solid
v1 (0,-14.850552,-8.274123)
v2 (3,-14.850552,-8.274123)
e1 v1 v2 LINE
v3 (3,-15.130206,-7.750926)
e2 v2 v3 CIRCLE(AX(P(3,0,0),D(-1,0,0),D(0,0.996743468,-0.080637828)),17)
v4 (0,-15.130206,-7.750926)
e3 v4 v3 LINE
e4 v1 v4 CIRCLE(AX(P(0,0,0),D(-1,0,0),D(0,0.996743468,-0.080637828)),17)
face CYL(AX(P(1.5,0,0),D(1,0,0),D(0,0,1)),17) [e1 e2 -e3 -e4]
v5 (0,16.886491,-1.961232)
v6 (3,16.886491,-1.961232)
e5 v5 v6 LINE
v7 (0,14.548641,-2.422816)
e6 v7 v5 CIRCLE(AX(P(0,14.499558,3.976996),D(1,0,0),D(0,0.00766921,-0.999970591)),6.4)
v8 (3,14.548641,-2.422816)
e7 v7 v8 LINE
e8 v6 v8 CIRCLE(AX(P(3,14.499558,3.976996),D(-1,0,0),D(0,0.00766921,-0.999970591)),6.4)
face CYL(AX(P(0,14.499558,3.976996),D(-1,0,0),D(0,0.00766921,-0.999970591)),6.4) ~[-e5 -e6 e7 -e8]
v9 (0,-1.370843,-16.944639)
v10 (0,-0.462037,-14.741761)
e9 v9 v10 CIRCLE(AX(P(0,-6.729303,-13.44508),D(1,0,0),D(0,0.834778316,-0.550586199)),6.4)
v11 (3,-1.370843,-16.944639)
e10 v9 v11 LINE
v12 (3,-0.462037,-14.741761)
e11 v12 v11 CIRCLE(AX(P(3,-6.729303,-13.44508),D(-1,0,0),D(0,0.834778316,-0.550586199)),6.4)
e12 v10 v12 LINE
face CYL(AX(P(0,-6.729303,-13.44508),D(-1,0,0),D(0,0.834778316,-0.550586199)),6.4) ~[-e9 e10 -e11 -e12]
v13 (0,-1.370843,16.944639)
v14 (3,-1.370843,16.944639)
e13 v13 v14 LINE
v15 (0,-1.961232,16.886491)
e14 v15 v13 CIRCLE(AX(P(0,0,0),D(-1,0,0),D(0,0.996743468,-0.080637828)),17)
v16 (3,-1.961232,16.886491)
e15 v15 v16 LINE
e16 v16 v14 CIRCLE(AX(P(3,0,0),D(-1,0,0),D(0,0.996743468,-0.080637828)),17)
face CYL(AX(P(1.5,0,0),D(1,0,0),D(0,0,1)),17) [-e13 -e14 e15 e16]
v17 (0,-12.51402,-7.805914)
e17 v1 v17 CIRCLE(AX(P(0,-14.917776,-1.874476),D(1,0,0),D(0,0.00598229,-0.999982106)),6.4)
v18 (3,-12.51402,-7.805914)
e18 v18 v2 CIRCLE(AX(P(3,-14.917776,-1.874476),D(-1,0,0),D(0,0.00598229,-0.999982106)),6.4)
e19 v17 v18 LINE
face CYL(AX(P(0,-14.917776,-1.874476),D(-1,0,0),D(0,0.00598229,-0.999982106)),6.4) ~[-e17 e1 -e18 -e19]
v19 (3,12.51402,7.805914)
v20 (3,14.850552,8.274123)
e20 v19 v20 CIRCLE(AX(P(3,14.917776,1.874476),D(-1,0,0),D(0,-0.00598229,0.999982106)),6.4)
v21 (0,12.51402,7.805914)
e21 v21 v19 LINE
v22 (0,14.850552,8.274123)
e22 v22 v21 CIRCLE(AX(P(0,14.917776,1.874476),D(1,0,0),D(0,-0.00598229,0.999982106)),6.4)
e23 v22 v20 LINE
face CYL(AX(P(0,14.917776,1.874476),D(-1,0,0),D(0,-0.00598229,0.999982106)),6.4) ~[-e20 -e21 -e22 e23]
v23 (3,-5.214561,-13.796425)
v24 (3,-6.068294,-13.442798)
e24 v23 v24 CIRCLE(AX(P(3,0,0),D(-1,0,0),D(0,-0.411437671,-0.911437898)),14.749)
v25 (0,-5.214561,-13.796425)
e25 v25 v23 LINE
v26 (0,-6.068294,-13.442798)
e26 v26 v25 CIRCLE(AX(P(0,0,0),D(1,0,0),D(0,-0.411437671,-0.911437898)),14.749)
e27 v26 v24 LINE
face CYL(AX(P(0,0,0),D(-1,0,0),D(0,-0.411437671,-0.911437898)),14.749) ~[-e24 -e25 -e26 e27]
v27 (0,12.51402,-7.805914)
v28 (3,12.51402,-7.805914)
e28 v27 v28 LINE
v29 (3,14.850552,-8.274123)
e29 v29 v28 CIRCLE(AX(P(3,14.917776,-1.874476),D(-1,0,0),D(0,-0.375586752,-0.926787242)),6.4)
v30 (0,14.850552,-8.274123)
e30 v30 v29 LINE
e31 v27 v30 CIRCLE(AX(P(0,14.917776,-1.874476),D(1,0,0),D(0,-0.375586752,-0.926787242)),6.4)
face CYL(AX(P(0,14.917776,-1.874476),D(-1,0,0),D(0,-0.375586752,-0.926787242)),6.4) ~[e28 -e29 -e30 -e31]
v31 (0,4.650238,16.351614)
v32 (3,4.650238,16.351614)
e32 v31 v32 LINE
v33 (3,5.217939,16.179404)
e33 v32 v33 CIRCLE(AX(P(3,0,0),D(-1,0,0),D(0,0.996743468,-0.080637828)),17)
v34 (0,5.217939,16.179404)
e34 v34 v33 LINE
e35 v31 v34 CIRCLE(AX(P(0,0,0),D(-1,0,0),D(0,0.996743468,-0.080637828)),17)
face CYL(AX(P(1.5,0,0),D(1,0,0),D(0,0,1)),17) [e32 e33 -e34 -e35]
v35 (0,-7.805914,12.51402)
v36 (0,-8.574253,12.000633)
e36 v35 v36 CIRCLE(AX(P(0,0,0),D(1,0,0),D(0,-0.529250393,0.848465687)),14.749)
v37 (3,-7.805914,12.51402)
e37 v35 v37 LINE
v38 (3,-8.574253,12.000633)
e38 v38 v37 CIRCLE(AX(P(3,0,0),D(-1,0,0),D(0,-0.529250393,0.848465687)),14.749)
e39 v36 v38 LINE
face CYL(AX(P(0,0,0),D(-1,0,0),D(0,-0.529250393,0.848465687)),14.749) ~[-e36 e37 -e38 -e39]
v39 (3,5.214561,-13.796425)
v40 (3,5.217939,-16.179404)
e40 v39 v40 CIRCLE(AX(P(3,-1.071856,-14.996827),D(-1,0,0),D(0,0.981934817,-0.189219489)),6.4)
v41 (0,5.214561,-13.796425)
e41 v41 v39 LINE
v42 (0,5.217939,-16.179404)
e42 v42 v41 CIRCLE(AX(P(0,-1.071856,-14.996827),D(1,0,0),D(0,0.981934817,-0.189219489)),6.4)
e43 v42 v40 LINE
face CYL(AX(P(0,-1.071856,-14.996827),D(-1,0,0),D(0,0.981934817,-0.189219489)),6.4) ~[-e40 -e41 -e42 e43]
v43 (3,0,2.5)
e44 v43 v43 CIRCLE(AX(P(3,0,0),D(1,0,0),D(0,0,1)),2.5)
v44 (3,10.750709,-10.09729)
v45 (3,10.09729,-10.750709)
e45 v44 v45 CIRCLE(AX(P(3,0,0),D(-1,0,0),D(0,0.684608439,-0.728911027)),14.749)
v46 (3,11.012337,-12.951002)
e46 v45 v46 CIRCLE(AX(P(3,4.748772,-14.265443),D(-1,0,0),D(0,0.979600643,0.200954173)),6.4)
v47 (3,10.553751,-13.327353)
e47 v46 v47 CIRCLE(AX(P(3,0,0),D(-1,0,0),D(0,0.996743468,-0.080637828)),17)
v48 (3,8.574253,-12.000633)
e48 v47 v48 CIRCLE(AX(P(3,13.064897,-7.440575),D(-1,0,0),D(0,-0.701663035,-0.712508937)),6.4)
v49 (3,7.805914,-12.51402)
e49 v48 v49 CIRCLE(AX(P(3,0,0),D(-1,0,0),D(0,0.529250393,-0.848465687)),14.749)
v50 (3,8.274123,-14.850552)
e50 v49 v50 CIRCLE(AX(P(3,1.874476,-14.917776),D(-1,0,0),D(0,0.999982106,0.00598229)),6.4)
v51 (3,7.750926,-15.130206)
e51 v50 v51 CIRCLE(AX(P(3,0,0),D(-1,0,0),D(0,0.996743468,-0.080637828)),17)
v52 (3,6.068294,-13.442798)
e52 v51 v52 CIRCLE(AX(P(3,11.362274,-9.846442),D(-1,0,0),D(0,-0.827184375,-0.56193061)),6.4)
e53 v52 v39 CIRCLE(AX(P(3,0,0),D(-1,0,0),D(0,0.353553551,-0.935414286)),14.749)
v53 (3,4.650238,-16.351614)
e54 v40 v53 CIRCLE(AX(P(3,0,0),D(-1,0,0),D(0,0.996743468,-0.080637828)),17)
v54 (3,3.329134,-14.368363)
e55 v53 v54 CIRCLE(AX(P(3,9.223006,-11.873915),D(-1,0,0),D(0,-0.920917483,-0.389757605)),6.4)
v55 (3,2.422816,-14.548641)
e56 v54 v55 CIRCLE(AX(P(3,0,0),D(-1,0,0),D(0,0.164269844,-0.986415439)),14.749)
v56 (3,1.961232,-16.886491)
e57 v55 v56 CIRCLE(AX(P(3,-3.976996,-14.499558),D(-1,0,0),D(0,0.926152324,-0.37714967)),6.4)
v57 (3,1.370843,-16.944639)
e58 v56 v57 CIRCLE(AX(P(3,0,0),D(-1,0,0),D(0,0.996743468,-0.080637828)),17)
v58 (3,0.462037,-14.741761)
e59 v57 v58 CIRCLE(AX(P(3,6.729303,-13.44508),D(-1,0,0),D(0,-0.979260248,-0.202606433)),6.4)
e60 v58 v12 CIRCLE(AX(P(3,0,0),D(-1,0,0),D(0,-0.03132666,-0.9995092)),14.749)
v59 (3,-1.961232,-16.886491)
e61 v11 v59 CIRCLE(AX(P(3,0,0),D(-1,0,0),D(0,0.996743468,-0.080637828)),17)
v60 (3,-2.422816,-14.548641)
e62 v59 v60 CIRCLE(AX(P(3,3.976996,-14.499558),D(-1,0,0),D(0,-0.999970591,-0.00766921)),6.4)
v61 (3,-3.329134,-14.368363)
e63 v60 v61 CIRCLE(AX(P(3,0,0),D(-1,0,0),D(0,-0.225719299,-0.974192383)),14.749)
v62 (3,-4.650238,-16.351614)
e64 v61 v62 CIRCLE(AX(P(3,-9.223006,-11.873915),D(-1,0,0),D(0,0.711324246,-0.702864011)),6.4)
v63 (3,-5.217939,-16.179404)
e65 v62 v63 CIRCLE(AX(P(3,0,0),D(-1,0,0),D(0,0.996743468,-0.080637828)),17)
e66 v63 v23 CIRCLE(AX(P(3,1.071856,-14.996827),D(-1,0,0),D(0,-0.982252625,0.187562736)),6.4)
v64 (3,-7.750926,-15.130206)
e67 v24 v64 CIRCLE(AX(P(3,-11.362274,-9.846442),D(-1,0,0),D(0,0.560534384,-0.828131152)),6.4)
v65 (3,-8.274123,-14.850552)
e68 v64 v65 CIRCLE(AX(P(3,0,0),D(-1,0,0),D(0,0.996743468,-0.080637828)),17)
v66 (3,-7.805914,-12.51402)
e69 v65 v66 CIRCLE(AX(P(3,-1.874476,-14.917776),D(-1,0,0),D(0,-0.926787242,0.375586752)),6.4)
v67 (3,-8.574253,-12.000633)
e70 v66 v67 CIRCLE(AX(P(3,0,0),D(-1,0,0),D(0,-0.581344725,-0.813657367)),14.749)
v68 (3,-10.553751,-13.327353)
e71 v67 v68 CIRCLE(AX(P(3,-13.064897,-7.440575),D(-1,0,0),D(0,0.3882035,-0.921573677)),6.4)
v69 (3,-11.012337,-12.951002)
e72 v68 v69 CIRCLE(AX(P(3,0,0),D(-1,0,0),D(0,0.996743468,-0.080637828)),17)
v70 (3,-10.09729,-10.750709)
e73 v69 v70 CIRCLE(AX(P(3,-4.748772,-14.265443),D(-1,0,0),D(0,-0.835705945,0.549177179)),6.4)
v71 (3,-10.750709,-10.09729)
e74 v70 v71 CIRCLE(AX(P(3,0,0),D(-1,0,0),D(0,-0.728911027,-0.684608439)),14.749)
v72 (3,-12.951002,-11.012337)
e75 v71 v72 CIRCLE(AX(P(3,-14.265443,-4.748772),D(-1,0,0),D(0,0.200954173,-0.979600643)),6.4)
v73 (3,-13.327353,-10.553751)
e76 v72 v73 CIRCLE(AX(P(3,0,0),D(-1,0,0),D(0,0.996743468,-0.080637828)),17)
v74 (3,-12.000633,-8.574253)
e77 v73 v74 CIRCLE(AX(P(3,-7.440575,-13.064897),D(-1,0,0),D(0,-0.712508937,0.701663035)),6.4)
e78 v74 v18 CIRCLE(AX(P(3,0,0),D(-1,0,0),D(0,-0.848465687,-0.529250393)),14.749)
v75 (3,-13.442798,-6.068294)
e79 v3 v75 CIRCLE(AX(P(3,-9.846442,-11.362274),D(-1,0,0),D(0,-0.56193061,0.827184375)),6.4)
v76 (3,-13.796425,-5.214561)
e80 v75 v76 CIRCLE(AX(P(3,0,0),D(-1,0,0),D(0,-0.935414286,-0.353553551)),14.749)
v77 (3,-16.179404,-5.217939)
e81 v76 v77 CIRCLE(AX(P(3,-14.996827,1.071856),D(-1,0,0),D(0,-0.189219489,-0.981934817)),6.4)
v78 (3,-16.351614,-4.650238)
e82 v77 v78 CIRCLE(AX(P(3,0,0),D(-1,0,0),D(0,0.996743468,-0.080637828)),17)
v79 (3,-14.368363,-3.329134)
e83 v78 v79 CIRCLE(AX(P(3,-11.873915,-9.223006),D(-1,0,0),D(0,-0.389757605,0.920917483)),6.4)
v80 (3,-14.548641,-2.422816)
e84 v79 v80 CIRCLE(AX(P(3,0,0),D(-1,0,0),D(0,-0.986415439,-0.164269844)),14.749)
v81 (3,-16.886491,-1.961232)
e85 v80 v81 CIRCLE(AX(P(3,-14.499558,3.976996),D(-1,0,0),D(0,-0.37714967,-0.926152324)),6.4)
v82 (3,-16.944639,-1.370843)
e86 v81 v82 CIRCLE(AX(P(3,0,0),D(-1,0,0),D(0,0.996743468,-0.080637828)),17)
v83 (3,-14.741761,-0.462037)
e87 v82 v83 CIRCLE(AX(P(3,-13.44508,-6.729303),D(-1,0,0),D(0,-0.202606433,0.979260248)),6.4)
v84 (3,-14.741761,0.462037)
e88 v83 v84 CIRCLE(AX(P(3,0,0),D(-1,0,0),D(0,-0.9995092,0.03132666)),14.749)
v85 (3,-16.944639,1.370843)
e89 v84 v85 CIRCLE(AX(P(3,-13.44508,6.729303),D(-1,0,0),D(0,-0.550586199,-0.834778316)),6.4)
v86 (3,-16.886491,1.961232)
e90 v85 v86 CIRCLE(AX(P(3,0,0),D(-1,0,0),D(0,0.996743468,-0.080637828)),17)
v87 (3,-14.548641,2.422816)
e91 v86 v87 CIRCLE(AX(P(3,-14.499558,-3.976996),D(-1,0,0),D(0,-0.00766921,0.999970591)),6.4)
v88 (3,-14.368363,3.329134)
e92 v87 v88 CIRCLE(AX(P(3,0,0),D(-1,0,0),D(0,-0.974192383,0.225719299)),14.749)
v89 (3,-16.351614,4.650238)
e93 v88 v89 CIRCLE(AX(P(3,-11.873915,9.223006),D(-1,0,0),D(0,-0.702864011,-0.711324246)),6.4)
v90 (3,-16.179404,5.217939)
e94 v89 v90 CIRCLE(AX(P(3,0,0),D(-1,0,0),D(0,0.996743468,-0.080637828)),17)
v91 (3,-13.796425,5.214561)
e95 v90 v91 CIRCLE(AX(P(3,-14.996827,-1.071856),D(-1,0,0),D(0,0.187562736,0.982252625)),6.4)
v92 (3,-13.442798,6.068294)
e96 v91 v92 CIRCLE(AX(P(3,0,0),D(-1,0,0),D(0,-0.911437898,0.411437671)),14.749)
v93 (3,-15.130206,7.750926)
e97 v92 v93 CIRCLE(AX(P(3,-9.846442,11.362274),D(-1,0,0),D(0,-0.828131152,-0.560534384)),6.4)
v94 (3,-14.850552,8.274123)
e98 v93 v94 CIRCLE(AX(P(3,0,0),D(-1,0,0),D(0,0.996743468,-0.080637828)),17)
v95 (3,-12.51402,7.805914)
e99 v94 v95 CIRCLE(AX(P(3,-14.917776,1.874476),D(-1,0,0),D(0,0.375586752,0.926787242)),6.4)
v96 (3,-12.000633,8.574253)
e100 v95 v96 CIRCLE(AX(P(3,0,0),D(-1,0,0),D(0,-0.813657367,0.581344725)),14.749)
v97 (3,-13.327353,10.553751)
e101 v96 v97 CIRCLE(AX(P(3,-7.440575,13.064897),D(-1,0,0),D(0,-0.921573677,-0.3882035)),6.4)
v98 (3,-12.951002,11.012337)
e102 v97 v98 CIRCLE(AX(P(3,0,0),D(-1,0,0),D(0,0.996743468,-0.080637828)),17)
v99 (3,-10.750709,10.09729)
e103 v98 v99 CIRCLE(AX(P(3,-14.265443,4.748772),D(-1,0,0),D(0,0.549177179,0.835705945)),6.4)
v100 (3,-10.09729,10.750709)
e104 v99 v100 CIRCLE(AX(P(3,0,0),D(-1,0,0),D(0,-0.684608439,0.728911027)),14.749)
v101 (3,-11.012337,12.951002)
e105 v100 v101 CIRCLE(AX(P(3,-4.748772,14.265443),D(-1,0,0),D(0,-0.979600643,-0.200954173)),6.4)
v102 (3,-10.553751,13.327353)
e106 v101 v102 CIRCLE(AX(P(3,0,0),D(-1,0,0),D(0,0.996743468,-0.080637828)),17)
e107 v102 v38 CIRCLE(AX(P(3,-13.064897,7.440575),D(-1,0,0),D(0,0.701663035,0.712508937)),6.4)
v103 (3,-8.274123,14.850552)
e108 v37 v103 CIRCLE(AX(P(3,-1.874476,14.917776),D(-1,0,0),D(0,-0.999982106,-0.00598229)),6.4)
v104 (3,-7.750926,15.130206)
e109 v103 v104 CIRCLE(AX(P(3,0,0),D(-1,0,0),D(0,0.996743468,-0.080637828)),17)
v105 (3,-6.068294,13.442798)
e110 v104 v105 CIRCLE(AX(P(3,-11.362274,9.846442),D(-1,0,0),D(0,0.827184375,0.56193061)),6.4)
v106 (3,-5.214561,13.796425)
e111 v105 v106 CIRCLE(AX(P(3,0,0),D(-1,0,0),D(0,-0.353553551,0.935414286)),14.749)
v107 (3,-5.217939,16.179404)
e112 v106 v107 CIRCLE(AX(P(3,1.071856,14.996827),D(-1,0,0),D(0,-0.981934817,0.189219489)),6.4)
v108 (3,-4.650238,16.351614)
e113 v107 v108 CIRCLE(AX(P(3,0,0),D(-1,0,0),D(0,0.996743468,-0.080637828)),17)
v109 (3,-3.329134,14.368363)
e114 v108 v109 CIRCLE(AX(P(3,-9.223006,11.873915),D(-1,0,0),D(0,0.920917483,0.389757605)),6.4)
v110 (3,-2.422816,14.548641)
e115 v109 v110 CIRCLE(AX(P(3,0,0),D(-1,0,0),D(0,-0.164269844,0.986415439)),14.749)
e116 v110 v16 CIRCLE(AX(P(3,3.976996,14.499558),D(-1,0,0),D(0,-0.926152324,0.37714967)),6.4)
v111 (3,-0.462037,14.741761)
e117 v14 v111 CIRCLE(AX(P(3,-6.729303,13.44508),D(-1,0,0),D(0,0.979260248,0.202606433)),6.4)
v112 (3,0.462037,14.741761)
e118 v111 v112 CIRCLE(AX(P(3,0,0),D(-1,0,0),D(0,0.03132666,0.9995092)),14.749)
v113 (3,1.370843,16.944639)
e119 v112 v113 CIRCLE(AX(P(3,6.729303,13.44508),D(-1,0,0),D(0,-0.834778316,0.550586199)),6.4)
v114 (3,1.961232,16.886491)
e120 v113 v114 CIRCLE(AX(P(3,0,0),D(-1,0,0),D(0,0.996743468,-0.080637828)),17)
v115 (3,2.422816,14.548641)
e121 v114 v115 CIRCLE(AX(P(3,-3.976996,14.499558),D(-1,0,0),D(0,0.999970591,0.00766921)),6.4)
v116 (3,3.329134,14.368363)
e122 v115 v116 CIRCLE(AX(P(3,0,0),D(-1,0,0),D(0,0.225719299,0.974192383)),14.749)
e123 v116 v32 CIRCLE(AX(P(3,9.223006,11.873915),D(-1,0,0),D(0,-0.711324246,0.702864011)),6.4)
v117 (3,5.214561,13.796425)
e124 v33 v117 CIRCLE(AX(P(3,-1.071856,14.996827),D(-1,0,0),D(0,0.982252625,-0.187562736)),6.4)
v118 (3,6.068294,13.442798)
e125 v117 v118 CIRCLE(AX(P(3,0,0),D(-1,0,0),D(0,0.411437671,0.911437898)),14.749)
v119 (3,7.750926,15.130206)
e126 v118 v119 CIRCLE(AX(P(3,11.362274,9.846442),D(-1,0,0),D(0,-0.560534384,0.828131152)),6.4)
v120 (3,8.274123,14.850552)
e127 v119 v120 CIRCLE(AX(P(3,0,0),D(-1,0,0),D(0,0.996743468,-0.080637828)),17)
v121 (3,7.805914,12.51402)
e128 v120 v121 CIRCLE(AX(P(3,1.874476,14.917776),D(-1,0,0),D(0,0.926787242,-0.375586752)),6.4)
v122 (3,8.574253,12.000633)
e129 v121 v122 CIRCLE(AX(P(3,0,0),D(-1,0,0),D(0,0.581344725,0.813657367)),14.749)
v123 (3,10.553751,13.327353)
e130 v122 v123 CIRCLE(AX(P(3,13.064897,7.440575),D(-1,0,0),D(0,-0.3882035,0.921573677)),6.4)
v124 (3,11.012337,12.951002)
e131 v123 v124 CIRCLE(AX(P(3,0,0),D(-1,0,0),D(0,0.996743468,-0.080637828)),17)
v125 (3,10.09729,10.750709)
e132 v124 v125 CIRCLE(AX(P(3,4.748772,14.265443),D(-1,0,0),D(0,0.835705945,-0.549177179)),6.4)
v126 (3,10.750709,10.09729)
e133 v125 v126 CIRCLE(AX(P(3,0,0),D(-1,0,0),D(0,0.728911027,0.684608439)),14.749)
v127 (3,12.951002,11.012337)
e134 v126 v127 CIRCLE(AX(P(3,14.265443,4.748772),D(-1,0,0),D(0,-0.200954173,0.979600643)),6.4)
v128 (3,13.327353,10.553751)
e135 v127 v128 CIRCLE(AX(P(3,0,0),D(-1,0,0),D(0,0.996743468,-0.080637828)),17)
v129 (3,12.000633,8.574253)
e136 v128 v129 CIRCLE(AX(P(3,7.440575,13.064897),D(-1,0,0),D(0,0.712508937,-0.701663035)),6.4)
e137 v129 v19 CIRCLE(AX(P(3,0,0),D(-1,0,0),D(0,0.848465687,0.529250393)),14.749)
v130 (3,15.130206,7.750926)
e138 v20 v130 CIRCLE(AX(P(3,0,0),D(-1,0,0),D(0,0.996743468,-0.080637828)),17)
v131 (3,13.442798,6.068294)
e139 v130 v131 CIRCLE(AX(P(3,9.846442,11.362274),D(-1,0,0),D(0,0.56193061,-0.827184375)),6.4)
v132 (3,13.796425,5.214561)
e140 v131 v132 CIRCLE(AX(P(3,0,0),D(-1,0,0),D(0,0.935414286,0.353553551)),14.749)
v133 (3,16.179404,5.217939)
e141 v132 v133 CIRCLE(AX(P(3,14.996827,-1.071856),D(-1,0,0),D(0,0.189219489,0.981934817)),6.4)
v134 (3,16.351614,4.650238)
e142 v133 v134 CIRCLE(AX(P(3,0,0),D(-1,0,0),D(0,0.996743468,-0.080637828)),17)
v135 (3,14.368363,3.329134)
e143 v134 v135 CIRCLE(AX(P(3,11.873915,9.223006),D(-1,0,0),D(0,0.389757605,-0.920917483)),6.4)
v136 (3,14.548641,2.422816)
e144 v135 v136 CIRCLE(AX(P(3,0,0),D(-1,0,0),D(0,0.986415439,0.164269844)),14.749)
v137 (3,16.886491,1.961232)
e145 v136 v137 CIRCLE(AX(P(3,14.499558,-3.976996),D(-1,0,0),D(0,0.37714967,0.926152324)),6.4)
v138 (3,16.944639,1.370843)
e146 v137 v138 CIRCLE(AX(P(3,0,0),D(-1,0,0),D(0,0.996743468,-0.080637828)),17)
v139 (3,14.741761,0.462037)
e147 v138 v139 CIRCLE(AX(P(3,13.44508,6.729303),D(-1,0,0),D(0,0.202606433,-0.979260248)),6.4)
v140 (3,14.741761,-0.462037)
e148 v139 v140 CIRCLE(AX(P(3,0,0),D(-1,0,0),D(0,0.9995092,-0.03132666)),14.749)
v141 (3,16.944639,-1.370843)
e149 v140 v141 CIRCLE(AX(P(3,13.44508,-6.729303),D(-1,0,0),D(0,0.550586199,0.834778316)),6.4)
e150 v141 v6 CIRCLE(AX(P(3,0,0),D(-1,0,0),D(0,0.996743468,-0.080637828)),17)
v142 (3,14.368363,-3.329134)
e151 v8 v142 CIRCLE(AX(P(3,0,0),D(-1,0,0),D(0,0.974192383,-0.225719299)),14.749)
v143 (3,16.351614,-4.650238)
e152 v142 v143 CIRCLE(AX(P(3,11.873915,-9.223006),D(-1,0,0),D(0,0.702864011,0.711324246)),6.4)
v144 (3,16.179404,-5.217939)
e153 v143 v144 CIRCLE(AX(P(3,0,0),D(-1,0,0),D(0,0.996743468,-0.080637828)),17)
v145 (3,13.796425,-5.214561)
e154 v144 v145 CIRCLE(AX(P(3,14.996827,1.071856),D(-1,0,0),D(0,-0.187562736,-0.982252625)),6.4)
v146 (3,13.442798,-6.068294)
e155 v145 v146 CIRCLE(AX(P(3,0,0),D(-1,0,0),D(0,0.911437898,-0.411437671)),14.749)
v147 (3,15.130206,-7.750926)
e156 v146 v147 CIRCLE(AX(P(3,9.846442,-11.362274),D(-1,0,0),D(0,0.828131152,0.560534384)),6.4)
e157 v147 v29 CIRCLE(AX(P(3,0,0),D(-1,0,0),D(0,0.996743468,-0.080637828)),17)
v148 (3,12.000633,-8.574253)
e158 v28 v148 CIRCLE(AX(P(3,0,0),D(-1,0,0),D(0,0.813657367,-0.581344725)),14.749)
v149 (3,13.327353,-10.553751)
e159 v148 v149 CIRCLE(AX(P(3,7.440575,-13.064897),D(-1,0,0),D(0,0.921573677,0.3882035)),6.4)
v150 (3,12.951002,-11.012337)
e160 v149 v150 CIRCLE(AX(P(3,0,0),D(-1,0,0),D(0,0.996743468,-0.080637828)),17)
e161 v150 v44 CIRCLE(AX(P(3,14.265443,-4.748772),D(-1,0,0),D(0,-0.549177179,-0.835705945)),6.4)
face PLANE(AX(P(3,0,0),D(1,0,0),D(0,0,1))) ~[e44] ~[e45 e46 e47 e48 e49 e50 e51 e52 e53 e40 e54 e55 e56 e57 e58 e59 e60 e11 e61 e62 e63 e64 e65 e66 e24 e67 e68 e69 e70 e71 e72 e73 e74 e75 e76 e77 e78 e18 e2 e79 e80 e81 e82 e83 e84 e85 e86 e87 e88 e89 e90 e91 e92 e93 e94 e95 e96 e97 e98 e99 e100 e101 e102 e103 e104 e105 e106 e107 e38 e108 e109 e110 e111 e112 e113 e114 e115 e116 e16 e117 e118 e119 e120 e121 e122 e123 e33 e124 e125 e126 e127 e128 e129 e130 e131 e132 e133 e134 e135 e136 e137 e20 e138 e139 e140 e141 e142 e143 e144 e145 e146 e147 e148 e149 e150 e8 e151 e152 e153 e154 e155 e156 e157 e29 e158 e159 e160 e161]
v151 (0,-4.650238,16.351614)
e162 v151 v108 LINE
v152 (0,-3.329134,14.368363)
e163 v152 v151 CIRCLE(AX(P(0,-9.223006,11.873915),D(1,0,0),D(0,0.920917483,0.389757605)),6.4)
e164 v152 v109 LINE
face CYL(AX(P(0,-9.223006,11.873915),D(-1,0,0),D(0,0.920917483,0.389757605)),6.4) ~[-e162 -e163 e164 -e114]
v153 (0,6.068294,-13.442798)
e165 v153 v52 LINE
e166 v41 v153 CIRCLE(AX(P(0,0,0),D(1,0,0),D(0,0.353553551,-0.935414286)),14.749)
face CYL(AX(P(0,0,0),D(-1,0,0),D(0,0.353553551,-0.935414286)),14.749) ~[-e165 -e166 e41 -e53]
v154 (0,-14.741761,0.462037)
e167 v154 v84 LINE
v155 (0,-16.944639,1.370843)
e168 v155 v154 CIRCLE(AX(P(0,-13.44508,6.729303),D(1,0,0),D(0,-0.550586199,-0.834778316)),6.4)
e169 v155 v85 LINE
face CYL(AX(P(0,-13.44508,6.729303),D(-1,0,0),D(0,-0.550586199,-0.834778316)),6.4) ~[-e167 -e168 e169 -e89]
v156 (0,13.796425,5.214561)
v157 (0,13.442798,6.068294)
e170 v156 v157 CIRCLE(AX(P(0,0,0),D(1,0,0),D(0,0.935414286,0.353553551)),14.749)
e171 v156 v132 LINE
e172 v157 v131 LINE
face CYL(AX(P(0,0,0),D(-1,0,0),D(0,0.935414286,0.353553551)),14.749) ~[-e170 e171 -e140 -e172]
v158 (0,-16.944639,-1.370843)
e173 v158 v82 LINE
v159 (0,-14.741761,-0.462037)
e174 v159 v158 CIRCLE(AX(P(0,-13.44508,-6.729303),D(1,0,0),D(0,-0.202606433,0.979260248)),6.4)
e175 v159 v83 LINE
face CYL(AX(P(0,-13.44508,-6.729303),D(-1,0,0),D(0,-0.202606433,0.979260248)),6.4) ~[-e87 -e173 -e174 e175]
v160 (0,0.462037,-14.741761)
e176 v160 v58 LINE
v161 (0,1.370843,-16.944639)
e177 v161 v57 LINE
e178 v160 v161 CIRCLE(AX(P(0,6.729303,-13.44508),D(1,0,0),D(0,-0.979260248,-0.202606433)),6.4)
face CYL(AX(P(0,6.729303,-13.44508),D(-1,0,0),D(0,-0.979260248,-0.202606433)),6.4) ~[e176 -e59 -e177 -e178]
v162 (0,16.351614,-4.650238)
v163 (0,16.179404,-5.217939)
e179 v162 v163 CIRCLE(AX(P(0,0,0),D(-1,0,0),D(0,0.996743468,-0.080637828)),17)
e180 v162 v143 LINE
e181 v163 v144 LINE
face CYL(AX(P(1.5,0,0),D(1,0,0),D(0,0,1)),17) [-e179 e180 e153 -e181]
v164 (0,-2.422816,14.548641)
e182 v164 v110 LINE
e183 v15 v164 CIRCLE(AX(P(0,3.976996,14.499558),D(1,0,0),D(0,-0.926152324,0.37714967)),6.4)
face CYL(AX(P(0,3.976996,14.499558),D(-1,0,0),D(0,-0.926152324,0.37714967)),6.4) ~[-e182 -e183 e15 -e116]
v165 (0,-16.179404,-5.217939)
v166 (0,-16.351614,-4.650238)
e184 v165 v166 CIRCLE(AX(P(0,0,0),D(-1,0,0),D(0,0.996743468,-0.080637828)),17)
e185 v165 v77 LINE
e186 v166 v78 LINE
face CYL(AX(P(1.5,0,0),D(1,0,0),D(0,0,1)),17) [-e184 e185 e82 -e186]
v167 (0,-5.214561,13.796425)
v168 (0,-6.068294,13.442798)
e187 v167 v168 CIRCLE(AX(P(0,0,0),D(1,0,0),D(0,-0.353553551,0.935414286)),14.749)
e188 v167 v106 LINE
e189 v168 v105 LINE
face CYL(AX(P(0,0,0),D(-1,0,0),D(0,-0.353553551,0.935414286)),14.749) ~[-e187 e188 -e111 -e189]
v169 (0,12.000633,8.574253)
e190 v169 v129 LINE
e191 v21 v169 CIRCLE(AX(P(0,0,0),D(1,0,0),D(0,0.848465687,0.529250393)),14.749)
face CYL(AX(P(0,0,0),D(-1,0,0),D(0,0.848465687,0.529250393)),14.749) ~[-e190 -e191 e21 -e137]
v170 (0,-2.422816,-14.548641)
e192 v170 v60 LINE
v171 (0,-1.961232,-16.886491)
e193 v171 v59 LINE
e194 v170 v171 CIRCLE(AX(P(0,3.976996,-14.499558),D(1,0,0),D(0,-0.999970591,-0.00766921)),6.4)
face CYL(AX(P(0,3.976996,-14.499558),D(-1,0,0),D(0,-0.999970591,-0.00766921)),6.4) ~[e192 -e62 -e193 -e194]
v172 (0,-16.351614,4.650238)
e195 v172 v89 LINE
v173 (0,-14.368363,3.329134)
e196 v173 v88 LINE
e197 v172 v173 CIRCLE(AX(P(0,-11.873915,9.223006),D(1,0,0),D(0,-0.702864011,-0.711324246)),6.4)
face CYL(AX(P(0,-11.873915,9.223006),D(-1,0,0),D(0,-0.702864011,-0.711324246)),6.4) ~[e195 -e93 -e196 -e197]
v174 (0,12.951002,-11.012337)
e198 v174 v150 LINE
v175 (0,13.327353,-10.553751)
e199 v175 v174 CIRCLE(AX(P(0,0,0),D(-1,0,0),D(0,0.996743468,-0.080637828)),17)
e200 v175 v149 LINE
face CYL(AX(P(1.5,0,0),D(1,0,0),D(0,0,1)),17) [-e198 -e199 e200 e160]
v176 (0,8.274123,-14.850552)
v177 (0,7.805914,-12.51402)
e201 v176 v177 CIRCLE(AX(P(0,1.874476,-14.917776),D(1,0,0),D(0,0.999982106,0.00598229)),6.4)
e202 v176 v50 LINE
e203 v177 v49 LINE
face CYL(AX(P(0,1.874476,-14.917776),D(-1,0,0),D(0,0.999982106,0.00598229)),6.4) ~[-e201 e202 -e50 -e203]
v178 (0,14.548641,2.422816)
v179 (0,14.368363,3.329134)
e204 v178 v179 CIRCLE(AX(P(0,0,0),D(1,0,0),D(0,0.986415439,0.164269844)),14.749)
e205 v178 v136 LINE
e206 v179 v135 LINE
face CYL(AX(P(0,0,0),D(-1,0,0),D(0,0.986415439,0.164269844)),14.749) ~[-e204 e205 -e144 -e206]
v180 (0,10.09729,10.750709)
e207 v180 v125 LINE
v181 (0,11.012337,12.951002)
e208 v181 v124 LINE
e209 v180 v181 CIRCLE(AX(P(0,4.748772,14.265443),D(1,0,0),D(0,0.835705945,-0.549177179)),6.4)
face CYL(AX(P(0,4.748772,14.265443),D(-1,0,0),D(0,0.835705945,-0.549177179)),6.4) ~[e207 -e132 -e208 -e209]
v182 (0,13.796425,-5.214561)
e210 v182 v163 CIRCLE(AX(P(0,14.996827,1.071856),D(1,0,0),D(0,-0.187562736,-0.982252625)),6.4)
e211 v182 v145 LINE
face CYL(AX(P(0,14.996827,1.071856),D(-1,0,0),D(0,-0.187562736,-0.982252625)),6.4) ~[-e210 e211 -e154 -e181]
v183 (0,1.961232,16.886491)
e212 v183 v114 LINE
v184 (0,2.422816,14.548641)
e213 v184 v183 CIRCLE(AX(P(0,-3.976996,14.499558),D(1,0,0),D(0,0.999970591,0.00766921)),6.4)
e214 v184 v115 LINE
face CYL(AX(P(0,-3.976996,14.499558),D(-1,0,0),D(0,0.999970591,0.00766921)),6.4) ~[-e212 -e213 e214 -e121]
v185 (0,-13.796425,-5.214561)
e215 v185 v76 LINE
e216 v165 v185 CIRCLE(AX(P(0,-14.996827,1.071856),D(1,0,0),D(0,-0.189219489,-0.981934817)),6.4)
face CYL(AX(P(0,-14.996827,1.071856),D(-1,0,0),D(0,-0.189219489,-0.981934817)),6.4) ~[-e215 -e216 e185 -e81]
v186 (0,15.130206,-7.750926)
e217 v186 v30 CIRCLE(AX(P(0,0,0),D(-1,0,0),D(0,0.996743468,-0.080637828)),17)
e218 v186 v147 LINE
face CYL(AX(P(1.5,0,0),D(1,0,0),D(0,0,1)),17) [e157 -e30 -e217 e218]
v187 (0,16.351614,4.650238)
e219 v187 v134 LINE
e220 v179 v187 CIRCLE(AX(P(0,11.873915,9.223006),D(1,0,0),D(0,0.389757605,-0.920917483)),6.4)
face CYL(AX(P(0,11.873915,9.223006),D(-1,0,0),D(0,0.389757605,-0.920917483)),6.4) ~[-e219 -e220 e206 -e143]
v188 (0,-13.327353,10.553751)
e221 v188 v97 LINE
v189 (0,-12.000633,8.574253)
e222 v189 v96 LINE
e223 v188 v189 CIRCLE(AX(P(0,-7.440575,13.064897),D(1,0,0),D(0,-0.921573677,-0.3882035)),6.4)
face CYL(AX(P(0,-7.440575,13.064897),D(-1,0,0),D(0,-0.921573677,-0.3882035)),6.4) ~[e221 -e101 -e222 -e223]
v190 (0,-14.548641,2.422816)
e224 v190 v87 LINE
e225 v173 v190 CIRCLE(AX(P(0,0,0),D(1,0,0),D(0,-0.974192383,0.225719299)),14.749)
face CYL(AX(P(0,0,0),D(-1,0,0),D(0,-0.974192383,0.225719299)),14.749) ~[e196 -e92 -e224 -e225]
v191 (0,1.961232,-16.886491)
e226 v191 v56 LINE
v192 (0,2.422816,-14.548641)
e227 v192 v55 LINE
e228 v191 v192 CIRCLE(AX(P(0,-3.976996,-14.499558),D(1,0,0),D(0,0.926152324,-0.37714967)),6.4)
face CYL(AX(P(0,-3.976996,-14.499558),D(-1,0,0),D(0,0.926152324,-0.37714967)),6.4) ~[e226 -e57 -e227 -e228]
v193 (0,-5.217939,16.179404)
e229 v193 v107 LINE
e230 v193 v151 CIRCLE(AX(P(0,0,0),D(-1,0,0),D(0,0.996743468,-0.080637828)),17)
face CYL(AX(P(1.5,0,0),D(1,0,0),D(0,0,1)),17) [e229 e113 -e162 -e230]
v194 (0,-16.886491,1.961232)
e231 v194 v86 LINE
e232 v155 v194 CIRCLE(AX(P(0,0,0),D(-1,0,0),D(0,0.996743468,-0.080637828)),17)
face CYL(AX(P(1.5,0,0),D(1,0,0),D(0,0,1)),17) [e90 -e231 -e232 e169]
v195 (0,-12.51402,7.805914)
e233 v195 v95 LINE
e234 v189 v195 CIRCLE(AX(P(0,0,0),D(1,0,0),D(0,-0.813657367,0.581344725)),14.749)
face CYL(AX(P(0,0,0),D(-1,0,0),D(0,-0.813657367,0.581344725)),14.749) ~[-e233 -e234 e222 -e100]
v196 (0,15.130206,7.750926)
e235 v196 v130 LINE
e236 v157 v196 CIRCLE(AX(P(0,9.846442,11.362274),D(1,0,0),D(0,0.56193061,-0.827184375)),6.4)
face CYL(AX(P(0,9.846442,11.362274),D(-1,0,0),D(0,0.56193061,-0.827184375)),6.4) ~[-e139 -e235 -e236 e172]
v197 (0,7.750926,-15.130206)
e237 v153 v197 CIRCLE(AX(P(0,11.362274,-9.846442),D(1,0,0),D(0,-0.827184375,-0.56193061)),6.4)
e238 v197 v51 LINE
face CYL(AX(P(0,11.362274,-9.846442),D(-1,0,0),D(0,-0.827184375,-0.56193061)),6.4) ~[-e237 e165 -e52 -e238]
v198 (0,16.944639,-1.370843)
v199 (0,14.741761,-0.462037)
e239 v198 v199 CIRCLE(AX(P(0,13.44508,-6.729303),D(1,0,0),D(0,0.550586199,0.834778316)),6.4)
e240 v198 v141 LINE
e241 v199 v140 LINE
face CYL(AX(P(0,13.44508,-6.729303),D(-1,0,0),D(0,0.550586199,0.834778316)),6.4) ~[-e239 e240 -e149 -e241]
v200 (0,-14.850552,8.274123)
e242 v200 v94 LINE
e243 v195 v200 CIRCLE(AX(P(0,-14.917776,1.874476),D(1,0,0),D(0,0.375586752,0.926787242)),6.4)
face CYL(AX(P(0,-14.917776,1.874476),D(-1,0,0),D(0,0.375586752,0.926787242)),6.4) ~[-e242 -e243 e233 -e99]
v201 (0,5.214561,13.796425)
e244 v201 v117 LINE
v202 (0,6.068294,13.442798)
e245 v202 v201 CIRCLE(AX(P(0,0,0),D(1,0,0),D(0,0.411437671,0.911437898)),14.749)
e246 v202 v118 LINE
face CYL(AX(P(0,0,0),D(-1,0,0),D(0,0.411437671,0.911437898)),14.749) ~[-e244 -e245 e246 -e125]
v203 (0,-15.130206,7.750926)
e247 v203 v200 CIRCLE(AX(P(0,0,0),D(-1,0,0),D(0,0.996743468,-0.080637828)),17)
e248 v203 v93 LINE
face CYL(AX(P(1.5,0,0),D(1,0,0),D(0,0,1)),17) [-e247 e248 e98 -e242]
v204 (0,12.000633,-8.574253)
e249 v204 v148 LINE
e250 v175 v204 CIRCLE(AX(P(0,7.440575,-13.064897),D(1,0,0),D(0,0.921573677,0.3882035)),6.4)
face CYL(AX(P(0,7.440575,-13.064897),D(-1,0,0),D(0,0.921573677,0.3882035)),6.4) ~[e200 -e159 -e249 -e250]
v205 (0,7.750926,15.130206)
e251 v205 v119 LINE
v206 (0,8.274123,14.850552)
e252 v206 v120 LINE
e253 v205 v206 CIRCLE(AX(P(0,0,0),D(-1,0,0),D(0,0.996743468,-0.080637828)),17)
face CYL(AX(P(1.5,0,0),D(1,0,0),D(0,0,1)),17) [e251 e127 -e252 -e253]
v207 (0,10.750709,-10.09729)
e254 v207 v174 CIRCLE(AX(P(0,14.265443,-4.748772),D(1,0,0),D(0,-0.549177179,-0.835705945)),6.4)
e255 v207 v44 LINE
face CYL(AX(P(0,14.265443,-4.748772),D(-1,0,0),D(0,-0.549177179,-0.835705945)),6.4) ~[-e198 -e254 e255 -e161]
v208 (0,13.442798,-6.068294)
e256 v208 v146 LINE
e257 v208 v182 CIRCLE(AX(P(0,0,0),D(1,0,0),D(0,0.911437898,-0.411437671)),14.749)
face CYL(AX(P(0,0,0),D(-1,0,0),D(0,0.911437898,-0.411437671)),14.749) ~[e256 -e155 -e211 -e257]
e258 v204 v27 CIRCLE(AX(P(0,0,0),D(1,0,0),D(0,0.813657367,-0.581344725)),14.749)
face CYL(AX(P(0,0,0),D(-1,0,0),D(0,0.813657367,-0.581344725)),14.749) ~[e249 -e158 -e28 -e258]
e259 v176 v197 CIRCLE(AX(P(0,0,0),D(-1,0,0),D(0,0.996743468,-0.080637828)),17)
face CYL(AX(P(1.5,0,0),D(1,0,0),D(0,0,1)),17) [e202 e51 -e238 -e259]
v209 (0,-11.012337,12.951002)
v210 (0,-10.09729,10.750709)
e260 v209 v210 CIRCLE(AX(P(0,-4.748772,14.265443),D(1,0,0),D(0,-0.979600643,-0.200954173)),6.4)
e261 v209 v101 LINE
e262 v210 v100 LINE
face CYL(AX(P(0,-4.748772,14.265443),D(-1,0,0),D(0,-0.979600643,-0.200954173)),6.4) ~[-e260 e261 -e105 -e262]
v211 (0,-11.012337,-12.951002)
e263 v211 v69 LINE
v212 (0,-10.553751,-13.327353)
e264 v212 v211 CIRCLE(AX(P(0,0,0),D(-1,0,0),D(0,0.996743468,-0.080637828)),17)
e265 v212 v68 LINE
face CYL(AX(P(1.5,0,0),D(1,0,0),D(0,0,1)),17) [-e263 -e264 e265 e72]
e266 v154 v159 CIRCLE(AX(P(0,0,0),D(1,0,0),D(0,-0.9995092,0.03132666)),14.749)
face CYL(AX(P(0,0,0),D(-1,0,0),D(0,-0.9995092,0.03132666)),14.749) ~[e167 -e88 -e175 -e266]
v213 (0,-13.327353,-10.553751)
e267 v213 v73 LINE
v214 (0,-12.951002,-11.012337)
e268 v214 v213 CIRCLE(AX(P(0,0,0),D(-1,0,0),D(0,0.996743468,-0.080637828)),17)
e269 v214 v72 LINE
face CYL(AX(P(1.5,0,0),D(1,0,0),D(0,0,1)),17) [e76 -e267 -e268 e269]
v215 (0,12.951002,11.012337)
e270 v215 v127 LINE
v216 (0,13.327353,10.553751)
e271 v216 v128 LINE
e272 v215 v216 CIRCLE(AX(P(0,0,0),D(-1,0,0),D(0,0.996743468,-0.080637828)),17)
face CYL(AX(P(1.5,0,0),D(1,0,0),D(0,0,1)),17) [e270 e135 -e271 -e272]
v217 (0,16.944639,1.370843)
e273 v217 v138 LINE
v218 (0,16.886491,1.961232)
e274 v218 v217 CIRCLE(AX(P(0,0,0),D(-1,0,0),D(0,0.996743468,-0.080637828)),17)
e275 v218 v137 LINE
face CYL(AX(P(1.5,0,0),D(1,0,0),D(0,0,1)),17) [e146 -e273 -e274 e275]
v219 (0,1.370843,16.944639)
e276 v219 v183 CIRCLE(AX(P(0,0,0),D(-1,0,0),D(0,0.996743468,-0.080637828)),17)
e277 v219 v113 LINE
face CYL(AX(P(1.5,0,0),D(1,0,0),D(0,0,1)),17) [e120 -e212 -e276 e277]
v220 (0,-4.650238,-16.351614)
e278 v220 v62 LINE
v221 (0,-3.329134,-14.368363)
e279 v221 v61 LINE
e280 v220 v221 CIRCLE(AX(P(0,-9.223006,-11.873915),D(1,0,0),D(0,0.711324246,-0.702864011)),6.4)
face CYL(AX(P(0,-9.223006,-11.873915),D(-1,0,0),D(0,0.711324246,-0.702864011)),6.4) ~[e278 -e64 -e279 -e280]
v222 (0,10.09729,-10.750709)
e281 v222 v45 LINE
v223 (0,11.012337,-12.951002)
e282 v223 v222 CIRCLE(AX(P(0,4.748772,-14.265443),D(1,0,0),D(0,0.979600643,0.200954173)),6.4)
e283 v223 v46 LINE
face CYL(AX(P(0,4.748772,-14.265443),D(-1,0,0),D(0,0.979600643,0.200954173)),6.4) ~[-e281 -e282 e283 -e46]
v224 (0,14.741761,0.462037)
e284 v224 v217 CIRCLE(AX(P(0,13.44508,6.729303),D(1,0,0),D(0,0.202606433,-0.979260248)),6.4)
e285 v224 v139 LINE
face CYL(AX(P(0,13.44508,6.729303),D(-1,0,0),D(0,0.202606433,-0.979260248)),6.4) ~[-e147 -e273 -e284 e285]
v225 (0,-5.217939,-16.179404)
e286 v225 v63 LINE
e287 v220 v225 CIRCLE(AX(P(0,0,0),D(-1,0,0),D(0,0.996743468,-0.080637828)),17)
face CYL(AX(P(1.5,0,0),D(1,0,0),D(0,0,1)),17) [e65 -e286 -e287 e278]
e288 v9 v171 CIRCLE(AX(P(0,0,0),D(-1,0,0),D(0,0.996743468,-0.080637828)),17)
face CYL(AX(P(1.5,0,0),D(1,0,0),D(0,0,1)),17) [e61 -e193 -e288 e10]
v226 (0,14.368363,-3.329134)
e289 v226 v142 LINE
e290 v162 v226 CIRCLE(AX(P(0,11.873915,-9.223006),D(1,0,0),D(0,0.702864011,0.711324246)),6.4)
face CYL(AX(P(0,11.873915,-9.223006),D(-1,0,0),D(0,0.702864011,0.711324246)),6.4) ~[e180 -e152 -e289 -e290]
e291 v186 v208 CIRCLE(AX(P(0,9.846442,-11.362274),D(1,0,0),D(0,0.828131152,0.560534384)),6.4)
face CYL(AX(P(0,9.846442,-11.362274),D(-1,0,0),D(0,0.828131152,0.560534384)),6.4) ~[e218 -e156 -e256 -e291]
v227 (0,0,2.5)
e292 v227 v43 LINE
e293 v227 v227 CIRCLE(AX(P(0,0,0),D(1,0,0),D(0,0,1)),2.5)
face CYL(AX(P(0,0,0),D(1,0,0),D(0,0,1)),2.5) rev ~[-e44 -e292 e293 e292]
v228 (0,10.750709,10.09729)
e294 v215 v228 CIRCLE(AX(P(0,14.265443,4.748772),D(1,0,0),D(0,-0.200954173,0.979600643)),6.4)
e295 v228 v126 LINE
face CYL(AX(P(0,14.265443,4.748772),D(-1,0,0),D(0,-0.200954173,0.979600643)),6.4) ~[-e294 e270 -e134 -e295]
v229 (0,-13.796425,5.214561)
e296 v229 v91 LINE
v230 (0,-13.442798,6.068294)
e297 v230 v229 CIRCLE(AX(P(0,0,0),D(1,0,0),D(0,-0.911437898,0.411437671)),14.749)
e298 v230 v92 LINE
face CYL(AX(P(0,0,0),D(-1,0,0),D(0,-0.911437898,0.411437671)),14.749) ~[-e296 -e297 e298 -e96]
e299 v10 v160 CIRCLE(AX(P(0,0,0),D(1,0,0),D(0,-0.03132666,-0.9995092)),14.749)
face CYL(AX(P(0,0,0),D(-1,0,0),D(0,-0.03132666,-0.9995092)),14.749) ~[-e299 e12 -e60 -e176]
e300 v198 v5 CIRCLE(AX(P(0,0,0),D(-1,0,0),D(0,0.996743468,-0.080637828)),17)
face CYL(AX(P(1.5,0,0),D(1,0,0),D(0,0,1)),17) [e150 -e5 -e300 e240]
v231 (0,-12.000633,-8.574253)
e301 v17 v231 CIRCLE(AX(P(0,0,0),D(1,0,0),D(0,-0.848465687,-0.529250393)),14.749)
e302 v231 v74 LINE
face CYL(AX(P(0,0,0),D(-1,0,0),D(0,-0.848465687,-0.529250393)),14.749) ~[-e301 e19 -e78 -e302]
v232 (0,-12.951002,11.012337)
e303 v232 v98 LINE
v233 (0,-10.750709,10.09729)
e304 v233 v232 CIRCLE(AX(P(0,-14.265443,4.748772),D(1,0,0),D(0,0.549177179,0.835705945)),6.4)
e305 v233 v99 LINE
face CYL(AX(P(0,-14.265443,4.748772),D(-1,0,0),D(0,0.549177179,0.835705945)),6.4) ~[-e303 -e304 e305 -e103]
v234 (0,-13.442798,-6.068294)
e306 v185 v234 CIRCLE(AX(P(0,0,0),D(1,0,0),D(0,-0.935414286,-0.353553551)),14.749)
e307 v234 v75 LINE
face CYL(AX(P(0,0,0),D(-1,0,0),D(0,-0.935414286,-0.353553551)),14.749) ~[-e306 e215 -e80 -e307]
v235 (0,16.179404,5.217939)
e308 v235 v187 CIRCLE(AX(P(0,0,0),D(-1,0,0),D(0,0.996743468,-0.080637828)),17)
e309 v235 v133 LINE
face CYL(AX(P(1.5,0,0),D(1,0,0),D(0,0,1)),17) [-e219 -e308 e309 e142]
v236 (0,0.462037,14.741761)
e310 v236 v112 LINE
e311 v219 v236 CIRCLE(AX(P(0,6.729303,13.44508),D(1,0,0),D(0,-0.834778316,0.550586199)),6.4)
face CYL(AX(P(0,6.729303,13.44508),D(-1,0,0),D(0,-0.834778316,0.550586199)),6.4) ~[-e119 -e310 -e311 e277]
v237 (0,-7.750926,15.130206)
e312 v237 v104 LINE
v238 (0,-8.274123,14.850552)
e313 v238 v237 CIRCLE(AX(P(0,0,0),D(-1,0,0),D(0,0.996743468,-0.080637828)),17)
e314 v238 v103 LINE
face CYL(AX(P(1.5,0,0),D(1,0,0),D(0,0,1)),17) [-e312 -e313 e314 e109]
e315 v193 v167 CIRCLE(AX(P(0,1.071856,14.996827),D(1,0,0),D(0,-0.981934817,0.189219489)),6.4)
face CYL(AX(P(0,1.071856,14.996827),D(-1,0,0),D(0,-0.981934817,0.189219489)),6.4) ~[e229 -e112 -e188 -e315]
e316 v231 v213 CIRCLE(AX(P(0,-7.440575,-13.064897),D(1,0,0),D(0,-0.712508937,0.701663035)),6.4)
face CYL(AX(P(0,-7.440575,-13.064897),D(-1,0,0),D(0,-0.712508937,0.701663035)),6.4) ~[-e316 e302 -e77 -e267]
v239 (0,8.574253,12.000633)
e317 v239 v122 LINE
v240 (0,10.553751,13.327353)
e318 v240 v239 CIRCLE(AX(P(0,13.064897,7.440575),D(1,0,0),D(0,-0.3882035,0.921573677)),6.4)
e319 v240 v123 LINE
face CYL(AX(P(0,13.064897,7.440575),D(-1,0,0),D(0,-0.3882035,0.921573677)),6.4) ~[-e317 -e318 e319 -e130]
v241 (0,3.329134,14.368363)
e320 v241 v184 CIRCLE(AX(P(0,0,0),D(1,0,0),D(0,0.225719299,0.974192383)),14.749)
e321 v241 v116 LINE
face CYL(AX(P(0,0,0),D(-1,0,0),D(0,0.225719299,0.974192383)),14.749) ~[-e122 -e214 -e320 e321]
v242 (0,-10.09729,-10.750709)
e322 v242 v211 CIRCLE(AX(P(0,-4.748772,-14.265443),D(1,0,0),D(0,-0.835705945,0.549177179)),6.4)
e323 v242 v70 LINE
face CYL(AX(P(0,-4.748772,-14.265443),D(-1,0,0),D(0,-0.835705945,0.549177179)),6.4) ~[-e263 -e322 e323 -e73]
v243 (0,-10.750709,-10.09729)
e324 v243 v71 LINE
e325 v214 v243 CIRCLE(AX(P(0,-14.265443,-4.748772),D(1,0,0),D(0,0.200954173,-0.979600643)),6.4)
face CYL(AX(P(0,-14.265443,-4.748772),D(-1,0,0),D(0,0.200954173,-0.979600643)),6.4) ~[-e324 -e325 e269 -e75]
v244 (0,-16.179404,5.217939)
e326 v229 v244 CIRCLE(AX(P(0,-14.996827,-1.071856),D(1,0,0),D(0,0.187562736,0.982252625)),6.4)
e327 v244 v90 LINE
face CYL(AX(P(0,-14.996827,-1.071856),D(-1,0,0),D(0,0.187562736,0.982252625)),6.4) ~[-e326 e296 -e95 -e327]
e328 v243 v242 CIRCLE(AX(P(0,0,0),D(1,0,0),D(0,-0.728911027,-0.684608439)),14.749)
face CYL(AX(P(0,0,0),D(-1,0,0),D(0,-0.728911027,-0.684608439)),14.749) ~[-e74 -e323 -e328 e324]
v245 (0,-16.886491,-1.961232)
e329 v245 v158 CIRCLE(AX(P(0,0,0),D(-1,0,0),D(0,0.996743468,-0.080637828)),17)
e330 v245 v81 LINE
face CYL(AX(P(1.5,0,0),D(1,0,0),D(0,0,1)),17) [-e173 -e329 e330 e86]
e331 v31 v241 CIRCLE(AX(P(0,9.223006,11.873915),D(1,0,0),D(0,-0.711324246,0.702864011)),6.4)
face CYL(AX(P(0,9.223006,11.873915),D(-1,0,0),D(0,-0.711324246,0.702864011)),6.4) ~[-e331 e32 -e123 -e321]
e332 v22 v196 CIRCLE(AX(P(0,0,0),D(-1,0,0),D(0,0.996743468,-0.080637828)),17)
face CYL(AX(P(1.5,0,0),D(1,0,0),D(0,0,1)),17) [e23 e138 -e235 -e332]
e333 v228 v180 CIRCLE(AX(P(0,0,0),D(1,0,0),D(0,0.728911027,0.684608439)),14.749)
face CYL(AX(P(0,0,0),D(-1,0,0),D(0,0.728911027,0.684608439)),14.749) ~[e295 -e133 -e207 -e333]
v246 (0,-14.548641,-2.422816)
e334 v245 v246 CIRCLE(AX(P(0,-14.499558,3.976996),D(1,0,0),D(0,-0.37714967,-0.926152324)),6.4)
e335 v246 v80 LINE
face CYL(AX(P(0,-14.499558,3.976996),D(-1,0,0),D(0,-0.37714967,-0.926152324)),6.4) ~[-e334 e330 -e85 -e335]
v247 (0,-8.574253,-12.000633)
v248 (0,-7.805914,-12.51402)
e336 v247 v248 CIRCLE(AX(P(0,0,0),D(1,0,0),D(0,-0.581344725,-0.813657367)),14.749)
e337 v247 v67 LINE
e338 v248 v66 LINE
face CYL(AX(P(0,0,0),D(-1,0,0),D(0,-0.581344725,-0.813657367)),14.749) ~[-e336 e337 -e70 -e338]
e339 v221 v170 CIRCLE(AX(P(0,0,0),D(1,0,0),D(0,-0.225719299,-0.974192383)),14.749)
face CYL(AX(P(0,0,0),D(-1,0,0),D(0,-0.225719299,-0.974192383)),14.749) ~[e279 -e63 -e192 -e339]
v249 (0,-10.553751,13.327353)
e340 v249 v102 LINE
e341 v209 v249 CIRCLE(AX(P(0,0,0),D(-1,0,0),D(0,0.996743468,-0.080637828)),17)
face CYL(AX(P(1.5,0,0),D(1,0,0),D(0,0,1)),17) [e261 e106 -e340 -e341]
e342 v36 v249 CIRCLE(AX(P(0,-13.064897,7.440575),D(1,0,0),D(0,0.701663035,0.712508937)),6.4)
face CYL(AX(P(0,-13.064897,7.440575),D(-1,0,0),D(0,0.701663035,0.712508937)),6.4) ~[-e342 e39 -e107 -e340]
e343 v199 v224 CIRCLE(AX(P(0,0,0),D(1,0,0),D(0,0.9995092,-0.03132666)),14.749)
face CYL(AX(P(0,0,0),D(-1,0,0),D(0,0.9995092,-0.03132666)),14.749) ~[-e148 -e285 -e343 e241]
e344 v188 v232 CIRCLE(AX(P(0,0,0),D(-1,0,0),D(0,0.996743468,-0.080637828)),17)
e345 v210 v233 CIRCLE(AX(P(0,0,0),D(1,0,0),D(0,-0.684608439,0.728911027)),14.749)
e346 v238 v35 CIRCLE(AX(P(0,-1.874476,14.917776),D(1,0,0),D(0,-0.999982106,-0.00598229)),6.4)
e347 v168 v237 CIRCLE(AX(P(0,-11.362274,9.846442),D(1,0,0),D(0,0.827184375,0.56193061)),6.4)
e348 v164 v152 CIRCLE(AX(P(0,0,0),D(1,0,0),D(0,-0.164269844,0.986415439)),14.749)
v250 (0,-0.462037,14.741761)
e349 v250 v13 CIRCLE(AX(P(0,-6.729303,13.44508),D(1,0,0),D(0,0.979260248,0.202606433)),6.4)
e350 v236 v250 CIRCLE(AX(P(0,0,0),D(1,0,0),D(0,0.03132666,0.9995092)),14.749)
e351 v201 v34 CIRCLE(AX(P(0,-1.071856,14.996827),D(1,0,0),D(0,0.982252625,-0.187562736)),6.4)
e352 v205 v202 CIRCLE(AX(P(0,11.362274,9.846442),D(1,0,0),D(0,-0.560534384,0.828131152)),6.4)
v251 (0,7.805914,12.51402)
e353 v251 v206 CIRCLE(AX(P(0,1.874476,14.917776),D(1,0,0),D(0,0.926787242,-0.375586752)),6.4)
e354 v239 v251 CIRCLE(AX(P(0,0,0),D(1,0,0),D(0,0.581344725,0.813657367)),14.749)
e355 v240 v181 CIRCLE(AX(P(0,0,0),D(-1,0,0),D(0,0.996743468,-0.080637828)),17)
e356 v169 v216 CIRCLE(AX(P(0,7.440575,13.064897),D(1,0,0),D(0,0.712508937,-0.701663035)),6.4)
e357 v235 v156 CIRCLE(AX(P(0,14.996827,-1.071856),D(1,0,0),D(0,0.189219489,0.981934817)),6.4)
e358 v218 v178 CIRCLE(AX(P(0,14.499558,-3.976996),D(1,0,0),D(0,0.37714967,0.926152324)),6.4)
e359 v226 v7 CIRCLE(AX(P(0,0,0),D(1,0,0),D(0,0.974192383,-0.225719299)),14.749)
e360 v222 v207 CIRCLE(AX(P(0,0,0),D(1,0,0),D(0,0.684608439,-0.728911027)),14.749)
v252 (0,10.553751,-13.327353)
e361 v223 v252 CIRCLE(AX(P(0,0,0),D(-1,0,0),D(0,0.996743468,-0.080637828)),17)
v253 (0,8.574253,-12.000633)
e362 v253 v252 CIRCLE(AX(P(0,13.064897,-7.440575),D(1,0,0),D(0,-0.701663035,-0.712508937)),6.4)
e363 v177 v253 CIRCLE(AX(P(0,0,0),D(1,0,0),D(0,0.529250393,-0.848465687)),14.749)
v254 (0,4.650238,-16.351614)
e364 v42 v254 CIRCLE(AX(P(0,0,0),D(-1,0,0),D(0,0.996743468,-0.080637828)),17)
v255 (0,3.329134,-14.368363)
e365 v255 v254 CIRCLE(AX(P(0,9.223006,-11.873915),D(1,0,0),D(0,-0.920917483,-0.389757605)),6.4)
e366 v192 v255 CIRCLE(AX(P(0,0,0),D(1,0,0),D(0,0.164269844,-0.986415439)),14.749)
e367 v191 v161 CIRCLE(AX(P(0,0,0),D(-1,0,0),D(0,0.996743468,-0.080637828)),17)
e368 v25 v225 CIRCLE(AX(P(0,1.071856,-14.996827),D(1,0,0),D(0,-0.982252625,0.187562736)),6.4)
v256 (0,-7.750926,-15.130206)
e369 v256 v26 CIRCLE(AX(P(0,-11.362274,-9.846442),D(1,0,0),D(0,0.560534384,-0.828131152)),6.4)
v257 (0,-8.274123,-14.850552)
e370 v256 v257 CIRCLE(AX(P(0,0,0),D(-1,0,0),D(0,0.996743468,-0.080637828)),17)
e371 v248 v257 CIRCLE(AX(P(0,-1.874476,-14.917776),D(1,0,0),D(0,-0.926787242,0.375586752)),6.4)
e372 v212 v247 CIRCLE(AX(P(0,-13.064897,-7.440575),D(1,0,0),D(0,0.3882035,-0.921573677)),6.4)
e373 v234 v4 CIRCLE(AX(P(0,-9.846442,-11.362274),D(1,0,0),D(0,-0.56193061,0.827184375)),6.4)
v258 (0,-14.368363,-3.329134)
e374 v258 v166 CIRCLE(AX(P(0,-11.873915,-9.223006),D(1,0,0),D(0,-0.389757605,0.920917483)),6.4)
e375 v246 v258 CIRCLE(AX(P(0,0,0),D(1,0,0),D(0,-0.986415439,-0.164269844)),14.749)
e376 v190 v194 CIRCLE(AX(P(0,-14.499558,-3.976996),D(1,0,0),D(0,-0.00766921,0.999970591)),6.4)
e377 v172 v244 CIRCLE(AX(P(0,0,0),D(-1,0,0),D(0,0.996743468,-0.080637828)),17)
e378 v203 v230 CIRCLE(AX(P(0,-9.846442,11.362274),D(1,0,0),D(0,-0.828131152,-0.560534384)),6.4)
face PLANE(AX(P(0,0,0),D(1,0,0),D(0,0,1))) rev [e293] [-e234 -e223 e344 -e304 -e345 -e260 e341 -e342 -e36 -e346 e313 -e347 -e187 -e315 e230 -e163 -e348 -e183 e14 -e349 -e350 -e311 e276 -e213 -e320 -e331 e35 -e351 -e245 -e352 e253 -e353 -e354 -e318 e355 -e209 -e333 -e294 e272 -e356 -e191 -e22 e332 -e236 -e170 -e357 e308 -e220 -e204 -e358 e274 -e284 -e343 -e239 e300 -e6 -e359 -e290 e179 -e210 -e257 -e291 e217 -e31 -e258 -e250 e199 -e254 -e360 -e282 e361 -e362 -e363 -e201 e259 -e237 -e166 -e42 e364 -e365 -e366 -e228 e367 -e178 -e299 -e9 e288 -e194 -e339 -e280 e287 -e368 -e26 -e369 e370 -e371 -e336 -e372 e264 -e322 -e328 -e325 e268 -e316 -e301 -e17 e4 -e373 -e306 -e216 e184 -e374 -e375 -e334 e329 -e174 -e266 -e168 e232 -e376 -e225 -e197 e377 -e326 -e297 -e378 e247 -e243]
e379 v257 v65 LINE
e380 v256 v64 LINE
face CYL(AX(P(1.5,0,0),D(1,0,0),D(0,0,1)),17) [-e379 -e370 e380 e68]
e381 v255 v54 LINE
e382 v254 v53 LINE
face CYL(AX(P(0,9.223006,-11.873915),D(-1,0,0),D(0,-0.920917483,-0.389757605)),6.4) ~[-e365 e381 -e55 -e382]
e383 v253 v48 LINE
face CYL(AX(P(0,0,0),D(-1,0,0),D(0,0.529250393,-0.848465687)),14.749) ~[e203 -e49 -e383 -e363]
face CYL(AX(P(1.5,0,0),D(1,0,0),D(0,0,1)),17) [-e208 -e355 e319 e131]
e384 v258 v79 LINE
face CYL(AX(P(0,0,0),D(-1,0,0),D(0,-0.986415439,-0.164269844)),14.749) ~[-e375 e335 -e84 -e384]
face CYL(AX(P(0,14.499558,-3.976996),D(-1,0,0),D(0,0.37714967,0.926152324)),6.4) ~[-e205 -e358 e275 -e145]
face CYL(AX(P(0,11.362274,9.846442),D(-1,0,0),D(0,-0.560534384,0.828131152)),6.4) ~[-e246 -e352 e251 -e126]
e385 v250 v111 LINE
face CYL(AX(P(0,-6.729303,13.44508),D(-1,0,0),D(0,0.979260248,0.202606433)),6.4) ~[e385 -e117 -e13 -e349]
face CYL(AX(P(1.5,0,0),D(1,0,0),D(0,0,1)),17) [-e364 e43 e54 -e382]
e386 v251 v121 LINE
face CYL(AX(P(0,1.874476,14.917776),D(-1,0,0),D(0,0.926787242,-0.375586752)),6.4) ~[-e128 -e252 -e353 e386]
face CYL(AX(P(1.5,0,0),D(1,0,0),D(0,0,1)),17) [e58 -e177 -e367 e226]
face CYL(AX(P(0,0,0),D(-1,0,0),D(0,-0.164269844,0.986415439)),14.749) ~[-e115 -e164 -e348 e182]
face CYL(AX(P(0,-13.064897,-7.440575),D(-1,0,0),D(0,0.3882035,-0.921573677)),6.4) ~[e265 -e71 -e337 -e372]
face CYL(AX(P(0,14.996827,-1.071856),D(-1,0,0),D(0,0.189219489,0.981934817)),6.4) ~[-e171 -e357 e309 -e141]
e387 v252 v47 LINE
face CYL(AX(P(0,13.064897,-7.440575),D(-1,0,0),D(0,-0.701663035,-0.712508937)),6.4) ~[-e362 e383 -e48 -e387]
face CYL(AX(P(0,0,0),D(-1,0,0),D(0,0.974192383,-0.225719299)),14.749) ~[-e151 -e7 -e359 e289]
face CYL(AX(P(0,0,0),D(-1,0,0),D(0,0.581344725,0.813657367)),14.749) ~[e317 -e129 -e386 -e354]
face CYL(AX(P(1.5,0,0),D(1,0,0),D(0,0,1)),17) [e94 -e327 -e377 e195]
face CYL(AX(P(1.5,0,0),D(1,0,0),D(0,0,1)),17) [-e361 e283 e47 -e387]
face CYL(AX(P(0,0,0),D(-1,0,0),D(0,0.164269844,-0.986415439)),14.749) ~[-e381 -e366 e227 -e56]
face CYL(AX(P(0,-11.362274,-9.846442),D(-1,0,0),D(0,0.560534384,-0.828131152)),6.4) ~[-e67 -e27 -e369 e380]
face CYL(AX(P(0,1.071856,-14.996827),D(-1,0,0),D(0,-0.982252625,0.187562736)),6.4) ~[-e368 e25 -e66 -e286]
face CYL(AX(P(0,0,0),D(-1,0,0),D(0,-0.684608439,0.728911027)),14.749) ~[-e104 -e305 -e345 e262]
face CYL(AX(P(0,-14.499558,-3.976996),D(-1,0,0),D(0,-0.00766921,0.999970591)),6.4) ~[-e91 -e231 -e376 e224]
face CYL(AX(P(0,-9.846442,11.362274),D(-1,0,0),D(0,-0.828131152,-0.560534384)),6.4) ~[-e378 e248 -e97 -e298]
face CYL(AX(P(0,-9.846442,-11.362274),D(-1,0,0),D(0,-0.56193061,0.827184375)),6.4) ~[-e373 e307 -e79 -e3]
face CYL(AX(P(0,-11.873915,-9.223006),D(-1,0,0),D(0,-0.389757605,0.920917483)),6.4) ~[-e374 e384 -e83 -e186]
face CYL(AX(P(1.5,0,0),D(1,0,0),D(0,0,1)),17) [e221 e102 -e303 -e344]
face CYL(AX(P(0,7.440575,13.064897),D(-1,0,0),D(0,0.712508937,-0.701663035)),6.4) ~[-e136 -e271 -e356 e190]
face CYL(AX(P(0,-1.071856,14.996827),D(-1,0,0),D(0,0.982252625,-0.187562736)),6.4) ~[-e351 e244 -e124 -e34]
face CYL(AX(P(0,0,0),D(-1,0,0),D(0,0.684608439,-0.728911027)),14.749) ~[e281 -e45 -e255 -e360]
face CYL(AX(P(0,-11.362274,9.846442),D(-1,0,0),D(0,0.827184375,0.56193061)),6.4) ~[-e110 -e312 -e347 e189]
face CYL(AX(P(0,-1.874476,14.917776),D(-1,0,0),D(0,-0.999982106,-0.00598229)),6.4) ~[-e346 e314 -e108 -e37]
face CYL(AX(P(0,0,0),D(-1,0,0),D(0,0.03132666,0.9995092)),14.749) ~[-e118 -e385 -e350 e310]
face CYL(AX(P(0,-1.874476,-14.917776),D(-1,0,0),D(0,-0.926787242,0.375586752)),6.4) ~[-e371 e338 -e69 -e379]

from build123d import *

# Parameters (mm, degrees)
BASPROSKE_W     = 3
BASPROSKE_H     = 17
TOOTHCUT_DEPTH  = 25.228082879
TEETHCUTS_COUNT = 32
TEETHCUTS_ANGLE = 348.75
BORSKE_R        = 2.5
BORE_DEPTH      = 50.0000508


with BuildPart() as part:
    # BasProSke → Base-Revolve (revolve)
    with BuildSketch(Plane(origin=(0, 0, 0), x_dir=(1, 0, 0), z_dir=(0, 1, 0)), mode=Mode.PRIVATE) as base_revolve_sk:
        with Locations((1.5, 8.5)):
            Rectangle(BASPROSKE_W, BASPROSKE_H)
    revolve(base_revolve_sk.sketch.rotate(Axis((-10, 0, 0), (1, 0, 0)), 180), axis=Axis((-10, 0, 0), (1, 0, 0)))

    # TooCutSke → ToothCut (cut, through all)
    with BuildSketch(Plane(origin=(0, 0, 0), x_dir=(0, 0, -1), z_dir=(1, 0, 0))):
        with BuildLine():
            ThreePointArc((0.462036907, 14.741761187), (0, 14.749), (-0.462036907, 14.741761187))
            ThreePointArc((-0.462036907, 14.741761187), (-0.81854142, 15.899240468), (-1.386721275, 16.9688317))
            ThreePointArc((-1.386721275, 16.9688317), (0, 17.0254), (1.386721275, 16.9688317))
            ThreePointArc((1.386721275, 16.9688317), (0.81854142, 15.899240468), (0.462036907, 14.741761187))
        make_face()
    toothcut = extrude(amount=TOOTHCUT_DEPTH, mode=Mode.SUBTRACT)

    # TeethCuts: ToothCut ×32 about axis
    teethcuts_axis = Axis((-10, 0, 0), (1, 0, 0))
    for i in range(1, TEETHCUTS_COUNT):
        add(toothcut.rotate(teethcuts_axis, i * TEETHCUTS_ANGLE / (TEETHCUTS_COUNT - 1)), mode=Mode.SUBTRACT)

    # BorSke → Bore (cut, symmetric)
    with BuildSketch(Plane(origin=(0, 0, 0), x_dir=(0, 0, -1), z_dir=(1, 0, 0))):
        with Locations(Location((0, 0, 0), (0, 0, 180))):
            Circle(BORSKE_R)
    extrude(amount=BORE_DEPTH, both=True, mode=Mode.SUBTRACT)


solid = part.part
